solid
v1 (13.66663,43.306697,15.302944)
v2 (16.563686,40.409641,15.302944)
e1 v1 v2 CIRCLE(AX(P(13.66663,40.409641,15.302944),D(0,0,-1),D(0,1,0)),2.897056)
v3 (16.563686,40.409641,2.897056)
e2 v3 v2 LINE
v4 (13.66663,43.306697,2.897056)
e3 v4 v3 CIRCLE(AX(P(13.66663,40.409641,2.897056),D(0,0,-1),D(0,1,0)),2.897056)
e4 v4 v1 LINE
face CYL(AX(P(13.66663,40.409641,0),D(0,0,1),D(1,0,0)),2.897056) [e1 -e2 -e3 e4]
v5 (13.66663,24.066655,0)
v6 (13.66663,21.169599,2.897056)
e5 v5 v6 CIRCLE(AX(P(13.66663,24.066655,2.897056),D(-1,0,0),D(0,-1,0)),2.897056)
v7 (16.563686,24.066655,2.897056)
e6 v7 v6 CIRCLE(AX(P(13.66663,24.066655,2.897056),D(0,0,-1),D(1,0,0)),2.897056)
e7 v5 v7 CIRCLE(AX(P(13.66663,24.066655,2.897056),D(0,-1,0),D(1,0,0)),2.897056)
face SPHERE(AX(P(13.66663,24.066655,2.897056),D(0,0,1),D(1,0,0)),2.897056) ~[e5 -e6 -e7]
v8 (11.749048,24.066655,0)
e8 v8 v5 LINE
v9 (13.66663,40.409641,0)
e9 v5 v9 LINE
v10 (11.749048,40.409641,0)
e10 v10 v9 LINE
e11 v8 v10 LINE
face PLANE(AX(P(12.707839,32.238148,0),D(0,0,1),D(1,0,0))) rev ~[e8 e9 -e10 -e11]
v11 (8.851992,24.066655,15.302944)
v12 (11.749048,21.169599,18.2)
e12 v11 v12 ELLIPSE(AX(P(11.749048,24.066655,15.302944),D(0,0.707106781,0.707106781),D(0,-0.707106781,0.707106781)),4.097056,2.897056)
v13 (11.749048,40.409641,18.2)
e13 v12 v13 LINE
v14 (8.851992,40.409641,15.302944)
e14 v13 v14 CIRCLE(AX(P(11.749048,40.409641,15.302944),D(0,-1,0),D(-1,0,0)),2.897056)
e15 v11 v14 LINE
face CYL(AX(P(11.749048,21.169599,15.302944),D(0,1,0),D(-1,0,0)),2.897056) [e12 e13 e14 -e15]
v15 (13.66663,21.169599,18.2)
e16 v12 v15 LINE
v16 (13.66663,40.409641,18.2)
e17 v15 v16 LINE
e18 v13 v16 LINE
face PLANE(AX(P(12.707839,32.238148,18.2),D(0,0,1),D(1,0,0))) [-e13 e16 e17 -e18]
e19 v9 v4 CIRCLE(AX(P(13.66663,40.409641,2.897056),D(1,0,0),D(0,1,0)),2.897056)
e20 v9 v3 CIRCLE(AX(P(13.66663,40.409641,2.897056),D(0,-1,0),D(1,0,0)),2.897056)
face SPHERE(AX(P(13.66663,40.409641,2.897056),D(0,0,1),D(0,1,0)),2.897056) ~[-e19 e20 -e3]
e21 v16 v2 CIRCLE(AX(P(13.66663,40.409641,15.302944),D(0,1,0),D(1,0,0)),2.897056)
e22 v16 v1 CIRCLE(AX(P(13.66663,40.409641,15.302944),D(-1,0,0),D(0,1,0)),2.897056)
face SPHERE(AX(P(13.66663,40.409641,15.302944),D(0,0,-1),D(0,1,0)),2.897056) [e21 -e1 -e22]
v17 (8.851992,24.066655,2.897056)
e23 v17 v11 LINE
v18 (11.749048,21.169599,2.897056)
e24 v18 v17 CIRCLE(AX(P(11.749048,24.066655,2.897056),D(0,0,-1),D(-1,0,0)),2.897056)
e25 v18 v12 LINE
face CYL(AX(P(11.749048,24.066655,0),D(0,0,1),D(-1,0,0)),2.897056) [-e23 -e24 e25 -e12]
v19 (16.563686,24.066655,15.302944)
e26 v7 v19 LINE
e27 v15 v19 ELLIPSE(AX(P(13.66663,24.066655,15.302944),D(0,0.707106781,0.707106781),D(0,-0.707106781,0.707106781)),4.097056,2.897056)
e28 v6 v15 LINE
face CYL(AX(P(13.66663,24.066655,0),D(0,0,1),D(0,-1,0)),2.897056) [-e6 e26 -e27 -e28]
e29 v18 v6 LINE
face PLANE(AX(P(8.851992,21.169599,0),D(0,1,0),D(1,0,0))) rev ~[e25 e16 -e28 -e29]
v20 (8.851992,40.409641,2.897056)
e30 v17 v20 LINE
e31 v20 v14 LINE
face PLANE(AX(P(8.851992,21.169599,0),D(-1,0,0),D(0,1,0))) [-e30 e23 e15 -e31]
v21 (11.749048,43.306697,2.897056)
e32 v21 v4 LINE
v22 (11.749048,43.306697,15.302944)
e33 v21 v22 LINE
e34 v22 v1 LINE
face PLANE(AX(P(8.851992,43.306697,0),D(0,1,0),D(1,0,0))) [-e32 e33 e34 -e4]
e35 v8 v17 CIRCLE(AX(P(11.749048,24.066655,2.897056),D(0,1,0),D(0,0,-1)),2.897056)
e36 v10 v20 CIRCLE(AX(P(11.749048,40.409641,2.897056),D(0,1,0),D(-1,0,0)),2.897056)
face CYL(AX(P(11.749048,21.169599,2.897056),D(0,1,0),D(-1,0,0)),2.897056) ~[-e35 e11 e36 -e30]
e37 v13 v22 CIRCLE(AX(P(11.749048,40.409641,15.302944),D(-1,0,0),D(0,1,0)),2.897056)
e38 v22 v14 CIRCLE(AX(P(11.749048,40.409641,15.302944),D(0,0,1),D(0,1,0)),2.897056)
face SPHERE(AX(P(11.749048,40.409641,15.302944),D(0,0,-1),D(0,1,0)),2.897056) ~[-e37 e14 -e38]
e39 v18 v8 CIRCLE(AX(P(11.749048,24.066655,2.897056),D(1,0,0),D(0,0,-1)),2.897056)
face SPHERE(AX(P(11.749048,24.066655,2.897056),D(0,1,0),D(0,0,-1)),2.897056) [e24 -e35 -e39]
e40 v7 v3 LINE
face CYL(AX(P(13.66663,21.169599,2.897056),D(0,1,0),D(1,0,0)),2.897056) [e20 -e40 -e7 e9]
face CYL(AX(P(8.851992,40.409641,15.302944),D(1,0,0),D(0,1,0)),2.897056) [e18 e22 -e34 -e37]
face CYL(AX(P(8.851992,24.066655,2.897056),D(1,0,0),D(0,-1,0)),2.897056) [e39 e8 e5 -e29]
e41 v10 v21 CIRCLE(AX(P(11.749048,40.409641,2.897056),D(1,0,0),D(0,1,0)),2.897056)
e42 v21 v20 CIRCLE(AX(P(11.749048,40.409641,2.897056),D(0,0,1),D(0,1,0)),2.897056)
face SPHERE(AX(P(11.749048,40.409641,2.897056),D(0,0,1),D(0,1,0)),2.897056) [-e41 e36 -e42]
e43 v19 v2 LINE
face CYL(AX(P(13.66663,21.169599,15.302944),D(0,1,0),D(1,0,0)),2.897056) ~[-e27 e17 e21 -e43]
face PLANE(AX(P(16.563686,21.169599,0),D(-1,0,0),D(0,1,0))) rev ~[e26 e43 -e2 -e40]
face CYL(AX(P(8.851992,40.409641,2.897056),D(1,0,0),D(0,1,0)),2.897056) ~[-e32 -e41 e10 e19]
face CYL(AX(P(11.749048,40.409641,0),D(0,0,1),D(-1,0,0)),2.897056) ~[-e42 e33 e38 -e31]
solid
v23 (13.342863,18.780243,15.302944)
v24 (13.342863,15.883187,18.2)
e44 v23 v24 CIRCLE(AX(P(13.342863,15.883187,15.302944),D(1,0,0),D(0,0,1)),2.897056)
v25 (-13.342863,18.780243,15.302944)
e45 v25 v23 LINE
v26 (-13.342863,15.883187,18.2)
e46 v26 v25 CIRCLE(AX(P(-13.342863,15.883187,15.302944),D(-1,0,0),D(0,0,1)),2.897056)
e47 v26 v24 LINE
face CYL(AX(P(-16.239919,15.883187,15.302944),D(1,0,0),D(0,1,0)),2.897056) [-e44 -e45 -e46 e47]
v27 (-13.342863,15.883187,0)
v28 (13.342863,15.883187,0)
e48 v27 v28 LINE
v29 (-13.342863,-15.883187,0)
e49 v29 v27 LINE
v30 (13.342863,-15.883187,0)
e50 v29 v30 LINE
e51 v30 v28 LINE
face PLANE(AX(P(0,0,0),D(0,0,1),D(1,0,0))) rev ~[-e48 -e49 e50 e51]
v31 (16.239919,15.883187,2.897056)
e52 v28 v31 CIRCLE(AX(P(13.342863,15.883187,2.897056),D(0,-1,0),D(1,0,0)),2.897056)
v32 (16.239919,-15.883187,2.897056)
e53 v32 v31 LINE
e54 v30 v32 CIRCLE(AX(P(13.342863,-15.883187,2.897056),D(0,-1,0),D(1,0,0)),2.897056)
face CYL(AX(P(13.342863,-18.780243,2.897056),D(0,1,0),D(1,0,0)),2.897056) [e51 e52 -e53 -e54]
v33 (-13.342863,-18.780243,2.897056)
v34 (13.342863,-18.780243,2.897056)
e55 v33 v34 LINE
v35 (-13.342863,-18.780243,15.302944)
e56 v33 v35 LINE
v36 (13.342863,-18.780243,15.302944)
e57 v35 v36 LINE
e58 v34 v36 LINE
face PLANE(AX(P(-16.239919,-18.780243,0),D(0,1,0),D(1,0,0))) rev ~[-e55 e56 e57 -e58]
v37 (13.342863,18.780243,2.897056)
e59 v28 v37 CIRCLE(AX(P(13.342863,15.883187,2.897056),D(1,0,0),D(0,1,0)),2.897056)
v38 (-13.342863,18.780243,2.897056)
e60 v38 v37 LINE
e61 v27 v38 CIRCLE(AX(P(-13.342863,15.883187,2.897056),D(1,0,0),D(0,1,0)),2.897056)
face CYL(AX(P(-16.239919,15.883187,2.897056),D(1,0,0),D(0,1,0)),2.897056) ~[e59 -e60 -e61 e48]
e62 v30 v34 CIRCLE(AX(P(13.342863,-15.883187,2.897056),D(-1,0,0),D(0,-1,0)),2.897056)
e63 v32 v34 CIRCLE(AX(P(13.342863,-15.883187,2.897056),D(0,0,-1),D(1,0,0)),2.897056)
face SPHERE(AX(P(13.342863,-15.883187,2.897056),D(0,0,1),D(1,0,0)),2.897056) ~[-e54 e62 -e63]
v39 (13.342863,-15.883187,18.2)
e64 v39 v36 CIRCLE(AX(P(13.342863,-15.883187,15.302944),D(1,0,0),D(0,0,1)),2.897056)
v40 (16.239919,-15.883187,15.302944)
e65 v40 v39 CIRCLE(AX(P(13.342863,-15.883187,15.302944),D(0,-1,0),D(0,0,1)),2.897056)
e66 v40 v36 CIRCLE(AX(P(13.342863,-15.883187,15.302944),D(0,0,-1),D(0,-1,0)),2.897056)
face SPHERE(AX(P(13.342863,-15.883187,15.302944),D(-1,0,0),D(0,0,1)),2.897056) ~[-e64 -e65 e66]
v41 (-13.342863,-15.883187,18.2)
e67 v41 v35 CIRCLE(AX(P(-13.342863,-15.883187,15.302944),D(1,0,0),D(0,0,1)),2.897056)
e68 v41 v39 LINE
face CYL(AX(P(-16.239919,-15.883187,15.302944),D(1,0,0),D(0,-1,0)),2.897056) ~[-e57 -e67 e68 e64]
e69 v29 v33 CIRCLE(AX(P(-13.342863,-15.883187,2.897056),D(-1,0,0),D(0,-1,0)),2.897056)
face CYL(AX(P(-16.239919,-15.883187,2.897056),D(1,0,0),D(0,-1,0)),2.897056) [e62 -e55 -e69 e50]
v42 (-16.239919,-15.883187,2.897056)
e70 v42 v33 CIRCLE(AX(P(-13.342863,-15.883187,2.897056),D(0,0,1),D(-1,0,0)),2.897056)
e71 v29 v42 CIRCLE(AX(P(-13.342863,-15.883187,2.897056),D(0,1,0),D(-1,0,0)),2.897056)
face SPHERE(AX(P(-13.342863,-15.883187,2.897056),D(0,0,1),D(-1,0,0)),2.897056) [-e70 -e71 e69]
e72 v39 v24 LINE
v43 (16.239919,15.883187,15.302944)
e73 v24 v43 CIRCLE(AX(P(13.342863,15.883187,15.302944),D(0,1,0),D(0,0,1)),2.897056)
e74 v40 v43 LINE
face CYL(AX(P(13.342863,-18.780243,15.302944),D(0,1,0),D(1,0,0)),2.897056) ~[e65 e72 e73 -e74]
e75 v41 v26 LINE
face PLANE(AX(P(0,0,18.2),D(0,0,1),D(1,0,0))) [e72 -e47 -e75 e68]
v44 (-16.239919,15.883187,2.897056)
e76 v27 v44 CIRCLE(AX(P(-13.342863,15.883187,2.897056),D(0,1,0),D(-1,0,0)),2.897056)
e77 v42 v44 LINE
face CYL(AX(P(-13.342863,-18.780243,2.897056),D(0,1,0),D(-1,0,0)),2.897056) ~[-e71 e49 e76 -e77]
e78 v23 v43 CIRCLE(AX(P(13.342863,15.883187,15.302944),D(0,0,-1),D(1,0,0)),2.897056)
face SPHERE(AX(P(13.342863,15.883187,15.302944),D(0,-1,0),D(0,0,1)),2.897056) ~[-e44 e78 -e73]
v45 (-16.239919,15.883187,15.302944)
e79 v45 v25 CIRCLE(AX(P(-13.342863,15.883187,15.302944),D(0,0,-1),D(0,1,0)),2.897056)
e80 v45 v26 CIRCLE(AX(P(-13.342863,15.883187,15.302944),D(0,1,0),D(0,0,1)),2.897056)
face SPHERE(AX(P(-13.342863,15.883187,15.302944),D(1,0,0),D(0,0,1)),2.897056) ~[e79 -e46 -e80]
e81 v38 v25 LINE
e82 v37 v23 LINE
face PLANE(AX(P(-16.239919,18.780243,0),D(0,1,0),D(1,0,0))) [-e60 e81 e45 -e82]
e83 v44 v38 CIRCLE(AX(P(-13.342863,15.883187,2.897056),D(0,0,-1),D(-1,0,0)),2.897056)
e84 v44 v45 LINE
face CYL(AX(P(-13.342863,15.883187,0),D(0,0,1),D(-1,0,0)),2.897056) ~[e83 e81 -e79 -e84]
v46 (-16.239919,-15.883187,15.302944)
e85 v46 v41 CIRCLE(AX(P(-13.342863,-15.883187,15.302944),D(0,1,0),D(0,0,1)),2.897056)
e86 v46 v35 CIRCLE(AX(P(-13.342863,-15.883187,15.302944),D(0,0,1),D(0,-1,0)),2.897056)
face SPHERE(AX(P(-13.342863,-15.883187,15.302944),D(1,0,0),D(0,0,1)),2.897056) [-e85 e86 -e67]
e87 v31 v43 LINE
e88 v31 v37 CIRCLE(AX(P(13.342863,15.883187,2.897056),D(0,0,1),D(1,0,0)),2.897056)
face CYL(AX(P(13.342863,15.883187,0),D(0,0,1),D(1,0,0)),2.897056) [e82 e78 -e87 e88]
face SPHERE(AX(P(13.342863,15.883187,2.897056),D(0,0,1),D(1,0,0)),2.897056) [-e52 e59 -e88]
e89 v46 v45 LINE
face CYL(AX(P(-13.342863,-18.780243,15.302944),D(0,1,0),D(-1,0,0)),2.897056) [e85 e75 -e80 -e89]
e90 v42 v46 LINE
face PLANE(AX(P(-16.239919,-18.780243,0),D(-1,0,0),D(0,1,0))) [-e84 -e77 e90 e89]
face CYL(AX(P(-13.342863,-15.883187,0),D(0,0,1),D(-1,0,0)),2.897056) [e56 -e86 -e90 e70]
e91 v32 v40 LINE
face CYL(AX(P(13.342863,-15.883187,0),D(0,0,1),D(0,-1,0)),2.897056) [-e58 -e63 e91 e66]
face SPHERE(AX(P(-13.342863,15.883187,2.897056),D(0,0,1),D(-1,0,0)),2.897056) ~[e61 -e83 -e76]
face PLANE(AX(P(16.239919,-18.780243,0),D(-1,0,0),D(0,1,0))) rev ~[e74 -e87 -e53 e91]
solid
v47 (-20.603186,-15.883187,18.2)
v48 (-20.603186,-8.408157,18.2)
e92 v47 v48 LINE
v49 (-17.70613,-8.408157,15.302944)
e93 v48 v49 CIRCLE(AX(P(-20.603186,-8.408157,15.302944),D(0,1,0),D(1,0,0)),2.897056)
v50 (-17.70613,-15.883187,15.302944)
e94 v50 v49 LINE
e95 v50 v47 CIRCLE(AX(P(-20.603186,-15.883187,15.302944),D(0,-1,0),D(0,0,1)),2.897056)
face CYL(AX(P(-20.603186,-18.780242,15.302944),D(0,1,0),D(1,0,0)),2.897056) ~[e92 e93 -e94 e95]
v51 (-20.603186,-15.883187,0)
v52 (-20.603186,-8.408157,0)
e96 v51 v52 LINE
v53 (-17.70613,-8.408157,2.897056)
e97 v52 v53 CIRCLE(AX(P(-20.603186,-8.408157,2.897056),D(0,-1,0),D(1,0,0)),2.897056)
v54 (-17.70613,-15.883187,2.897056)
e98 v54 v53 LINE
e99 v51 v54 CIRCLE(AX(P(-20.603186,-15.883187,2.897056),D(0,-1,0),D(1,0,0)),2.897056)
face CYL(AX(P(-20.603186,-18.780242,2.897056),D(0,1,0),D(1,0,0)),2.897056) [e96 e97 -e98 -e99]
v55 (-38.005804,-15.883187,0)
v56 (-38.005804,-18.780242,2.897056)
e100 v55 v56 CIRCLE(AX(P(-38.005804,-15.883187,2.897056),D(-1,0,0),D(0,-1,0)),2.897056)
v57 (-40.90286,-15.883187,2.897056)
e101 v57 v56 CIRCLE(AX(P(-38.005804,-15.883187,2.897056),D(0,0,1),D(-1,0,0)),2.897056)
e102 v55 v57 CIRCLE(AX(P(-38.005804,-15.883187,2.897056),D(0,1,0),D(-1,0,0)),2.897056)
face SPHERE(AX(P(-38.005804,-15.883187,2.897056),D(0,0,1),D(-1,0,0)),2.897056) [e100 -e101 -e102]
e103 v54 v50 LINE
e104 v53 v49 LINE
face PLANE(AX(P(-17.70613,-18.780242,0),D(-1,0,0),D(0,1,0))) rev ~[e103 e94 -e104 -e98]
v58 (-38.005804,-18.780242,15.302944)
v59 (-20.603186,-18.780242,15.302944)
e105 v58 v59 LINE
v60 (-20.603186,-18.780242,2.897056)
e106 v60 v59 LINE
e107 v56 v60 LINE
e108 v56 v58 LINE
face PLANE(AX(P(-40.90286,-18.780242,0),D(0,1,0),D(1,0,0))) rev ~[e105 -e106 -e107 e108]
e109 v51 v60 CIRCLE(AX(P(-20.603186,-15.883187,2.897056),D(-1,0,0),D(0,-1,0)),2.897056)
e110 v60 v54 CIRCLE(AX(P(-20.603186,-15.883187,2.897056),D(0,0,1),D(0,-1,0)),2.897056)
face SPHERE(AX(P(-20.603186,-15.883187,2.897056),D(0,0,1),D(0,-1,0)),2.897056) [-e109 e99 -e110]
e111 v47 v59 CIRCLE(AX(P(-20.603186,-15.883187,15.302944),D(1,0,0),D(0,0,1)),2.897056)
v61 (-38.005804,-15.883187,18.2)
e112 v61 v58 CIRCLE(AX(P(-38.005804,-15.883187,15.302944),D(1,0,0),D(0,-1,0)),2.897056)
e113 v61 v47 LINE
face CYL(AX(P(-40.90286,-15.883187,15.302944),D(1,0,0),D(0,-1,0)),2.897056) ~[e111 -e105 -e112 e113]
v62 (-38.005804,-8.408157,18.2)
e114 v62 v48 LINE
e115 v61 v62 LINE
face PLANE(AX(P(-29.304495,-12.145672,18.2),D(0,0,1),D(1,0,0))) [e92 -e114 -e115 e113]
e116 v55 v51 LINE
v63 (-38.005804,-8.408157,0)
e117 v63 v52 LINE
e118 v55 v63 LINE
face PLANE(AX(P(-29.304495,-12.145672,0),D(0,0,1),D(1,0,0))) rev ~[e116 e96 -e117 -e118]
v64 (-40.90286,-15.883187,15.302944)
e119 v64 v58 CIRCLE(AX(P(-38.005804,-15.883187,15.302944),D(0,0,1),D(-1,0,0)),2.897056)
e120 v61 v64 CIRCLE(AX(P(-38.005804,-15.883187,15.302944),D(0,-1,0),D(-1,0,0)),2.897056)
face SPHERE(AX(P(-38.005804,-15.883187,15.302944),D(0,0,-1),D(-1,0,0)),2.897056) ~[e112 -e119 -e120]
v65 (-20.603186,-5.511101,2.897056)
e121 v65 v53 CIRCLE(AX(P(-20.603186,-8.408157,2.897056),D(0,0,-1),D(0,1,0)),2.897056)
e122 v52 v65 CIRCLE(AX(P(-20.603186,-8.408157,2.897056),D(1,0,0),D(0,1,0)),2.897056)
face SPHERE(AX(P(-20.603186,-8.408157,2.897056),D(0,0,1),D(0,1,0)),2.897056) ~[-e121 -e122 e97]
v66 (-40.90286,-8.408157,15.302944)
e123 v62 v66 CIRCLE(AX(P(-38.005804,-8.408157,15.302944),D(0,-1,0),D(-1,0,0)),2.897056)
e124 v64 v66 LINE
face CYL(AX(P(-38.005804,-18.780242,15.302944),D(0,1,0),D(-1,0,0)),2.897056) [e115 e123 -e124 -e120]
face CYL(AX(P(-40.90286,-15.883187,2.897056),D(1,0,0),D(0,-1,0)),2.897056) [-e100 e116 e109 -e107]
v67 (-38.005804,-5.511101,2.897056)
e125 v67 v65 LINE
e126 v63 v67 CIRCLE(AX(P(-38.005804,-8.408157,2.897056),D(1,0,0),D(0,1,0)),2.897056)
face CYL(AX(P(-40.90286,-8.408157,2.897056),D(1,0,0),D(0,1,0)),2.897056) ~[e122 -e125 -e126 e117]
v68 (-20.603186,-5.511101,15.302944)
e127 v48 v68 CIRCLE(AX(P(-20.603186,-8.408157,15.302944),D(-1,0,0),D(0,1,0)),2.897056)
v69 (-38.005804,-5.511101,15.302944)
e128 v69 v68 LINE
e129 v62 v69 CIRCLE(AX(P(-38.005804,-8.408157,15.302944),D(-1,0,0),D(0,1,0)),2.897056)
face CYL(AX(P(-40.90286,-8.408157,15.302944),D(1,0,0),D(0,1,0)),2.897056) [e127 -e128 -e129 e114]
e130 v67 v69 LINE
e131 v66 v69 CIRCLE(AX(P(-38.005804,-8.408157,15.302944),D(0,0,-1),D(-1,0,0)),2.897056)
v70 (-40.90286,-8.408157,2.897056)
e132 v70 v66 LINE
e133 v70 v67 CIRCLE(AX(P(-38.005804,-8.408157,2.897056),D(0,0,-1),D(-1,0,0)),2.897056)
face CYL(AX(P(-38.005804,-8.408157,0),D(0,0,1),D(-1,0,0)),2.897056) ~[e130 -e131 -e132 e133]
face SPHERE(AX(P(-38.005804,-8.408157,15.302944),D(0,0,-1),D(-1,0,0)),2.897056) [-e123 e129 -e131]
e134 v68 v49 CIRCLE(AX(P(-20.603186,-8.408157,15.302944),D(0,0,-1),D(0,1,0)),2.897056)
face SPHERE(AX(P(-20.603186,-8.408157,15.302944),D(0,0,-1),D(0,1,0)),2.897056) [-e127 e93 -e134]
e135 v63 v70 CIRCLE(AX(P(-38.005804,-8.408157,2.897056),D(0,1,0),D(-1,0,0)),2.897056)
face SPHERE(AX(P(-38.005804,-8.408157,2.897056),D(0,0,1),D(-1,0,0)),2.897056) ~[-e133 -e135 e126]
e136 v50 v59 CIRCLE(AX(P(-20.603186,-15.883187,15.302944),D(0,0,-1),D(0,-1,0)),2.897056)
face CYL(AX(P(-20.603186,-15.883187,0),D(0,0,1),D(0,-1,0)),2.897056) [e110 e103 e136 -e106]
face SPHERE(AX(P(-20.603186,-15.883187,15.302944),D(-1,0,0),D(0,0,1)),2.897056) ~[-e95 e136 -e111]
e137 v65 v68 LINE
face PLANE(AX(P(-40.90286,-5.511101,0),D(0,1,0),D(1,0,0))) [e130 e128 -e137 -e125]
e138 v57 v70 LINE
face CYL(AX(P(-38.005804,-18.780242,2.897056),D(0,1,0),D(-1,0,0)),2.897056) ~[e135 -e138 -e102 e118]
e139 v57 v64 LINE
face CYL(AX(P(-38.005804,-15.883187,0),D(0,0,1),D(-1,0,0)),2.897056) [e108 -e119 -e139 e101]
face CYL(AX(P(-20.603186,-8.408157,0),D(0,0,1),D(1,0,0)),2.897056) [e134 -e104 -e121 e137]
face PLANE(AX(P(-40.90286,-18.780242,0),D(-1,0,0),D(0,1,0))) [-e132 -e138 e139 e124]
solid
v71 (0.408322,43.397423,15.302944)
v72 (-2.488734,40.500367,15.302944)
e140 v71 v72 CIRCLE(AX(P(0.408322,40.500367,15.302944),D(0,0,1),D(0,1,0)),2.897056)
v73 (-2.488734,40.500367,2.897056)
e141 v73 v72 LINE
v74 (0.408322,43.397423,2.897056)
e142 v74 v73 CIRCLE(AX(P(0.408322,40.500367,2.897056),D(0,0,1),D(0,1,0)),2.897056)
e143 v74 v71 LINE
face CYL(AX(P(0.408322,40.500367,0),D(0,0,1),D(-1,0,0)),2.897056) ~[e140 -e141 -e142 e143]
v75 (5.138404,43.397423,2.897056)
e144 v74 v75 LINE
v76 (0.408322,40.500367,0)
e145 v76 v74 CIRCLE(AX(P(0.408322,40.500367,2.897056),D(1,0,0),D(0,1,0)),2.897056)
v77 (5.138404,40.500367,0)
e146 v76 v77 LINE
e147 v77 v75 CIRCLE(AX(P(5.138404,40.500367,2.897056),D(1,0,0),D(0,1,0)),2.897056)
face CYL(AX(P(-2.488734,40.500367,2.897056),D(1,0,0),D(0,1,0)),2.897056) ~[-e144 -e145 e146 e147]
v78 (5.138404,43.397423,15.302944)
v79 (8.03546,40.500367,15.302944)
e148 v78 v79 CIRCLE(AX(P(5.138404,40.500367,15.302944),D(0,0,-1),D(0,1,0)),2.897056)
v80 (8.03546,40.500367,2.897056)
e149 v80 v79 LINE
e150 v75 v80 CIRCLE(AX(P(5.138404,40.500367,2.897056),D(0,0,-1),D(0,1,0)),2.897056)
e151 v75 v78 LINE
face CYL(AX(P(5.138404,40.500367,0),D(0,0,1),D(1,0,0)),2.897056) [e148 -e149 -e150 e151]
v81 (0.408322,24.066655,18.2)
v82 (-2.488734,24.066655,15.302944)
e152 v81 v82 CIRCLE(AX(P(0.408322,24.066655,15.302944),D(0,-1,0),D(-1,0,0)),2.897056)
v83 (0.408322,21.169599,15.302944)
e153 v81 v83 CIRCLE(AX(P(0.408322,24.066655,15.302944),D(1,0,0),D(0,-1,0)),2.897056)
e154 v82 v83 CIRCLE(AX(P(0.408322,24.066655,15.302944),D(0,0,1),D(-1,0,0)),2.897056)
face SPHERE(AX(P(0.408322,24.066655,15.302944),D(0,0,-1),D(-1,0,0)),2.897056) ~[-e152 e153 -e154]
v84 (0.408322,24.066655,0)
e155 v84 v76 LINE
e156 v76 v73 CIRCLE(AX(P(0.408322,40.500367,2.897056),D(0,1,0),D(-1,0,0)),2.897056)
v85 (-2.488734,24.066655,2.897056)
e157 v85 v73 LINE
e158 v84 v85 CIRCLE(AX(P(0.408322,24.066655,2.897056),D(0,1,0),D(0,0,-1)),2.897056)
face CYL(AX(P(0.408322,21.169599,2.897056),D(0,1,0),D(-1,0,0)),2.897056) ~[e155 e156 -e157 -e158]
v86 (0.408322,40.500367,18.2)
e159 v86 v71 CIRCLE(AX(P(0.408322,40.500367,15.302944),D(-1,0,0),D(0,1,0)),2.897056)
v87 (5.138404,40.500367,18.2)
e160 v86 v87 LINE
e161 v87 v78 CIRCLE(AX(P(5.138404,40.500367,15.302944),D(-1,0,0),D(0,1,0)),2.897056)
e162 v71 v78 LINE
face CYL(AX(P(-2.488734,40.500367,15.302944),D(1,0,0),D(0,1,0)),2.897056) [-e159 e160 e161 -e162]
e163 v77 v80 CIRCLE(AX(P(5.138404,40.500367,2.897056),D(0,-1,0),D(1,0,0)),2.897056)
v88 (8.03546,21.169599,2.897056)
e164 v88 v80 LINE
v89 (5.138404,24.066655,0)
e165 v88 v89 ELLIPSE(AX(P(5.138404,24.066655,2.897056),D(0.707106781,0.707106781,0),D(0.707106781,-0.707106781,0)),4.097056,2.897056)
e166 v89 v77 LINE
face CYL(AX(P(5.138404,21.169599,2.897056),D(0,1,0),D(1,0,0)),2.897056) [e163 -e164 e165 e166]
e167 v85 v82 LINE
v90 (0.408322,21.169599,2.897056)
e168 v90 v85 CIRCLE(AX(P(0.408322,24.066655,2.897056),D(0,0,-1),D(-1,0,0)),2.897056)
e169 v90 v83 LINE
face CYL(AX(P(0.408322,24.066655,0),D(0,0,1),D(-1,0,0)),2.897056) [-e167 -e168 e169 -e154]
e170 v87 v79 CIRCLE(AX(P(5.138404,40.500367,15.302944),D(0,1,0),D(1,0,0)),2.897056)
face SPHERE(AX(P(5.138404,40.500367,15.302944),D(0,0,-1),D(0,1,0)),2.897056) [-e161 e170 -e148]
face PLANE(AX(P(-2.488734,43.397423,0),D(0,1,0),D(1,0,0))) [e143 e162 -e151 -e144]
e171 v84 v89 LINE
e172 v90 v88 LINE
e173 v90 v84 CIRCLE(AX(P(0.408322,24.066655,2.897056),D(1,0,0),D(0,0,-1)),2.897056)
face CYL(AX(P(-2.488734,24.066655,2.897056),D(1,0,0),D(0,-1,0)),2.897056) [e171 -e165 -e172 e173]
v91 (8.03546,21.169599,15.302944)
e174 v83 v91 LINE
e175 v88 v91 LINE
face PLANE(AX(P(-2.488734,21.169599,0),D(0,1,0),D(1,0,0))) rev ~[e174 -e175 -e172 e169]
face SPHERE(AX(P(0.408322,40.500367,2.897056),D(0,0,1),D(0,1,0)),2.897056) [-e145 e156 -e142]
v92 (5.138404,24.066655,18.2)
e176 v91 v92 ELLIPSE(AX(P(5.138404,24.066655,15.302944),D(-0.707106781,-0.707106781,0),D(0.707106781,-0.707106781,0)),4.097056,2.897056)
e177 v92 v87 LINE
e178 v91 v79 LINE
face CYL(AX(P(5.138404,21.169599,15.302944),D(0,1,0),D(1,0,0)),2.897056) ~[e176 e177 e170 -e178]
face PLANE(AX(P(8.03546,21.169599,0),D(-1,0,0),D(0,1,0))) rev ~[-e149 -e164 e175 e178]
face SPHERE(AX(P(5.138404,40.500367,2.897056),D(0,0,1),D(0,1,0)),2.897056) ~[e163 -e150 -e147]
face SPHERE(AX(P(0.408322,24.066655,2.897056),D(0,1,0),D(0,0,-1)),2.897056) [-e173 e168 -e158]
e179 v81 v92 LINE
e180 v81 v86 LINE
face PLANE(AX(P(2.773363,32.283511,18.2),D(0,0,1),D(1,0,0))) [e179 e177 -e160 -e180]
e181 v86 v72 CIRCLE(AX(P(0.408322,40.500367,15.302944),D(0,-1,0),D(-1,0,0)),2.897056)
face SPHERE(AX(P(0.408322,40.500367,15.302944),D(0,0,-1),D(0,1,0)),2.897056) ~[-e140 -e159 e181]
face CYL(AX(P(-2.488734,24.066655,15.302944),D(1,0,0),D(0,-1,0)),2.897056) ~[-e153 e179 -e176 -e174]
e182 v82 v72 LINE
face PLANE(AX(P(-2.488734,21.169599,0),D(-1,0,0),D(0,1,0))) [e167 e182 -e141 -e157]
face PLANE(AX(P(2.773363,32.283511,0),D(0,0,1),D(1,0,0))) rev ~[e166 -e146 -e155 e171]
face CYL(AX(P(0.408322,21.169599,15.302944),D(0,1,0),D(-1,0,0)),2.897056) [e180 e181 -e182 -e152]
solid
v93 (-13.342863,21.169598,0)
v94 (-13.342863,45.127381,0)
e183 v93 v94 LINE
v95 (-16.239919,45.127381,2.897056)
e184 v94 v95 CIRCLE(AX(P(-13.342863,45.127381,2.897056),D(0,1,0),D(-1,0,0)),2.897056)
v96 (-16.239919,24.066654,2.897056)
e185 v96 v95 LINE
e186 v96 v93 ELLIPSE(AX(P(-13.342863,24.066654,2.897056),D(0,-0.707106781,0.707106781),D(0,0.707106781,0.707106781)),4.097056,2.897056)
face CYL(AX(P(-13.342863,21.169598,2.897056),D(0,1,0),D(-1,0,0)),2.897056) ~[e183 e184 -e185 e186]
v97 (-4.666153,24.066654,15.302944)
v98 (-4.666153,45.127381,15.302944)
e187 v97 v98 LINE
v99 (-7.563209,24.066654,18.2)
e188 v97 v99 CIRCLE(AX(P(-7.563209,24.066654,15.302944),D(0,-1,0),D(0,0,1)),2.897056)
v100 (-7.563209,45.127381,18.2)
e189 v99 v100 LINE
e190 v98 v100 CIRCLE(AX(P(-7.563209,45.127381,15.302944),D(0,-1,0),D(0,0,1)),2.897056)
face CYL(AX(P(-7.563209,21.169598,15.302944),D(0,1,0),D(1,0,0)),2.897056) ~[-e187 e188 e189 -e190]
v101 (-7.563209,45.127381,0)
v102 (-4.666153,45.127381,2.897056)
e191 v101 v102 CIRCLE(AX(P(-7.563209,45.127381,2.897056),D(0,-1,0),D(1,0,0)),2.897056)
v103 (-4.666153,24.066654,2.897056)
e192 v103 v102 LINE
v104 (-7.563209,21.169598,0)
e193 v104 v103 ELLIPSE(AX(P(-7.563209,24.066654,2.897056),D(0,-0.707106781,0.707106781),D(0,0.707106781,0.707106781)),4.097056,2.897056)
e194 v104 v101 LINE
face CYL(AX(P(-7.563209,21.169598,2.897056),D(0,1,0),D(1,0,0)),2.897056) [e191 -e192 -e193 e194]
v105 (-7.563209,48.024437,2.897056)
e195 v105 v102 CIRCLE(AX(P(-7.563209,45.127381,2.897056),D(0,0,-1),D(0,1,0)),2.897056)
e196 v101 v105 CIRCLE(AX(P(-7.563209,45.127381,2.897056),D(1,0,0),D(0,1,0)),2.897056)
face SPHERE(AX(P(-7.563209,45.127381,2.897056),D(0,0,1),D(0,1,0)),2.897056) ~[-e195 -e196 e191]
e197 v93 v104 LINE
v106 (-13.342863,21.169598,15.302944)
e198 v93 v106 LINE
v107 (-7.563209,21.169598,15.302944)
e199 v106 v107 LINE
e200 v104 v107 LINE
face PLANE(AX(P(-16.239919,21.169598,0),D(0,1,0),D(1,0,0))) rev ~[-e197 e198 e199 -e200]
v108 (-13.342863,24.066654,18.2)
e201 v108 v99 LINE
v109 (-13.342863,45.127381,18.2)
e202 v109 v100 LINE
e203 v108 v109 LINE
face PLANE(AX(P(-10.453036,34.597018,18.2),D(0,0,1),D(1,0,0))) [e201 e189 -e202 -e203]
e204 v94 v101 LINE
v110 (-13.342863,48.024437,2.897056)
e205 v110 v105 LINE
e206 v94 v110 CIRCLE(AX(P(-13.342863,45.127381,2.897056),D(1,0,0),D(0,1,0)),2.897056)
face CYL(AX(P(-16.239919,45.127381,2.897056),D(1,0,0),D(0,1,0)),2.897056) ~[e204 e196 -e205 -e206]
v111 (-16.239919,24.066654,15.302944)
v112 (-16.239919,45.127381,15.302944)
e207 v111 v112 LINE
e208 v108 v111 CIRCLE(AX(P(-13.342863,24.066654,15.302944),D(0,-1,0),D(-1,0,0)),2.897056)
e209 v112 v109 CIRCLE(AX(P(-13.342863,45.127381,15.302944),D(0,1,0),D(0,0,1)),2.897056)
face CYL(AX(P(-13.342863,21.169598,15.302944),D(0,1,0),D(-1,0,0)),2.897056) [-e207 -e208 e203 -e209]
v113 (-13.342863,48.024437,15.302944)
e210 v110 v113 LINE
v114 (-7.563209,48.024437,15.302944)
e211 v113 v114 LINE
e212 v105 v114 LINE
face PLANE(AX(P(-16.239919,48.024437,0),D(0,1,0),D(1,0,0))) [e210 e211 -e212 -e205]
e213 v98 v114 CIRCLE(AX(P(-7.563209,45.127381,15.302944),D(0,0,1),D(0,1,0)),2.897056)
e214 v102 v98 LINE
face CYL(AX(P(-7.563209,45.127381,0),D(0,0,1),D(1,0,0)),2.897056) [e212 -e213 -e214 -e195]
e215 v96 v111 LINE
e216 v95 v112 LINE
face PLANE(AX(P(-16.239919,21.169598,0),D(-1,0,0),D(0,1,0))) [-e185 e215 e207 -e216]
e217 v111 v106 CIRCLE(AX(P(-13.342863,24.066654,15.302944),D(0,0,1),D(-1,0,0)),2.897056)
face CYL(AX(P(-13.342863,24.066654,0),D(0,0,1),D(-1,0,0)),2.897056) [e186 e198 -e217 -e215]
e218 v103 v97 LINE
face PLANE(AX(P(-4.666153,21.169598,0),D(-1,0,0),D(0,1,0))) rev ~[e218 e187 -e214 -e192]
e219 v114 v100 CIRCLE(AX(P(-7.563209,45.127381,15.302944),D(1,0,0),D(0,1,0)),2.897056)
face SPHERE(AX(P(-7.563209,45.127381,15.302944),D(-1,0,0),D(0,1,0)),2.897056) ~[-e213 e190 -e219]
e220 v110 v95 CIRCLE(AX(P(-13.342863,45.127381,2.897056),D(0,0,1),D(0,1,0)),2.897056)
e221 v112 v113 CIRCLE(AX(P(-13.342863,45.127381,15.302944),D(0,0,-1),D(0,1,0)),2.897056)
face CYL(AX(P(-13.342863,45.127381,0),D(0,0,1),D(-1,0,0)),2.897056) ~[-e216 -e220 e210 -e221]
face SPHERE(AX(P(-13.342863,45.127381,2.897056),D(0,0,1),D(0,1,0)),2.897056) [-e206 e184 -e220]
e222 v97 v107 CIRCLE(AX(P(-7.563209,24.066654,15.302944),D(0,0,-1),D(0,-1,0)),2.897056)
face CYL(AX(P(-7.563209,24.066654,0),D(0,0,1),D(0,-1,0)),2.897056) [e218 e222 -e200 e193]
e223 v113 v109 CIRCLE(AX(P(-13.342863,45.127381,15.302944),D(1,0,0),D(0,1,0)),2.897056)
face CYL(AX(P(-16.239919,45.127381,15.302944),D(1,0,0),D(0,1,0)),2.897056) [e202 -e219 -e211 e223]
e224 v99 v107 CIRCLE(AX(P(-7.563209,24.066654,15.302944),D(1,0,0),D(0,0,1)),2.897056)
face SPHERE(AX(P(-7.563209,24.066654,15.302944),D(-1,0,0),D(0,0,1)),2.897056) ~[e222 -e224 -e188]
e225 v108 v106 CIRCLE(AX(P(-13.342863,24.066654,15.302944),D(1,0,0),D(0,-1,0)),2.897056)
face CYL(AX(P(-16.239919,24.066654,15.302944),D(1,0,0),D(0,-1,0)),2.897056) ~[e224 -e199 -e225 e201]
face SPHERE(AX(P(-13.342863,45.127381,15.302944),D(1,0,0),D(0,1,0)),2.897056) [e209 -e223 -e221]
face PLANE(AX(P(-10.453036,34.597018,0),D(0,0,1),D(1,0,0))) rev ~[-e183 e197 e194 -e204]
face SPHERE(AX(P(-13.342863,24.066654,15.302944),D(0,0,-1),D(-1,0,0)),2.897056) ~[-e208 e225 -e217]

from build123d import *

# Parameters (mm, degrees)
F0_W     = 32.479838
F0_H     = 37.560486
F0_W_2   = 11.573766
F0_H_2   = 26.854839
F0_W_3   = 10.524194
F0_H_3   = 22.227824
F0_W_4   = 7.711694
F0_H_4   = 22.137098
F0_W_5   = 23.19673
F0_H_5   = 13.269141
F1_DEPTH = 18.2
F2_R     = 2.897056


with BuildPart() as f1:
    # F0 (on Top) → F1 (new body)
    with BuildSketch(Plane.XY):
        Rectangle(F0_W, F0_H)
        with Locations((-10.453036, 34.597018)):
            Rectangle(F0_W_2, F0_H_2)
        with Locations((2.773363, 32.283511)):
            Rectangle(F0_W_3, F0_H_3)
        with Locations((12.707839, 32.238148)):
            Rectangle(F0_W_4, F0_H_4)
        with Locations((-29.304495, -12.145672)):
            Rectangle(F0_W_5, F0_H_5)
    extrude(amount=F1_DEPTH)

    # F2
    f2_edges = [f1.edges().sort_by_distance(p)[0] for p in [
        (-10.453036, 48.024438, 18.2),
        (-16.239919, 48.024438, 9.1),
        (-4.666153, 48.024438, 9.1),
        (-10.453036, 48.024438, 0),
        (16.563686, 43.306697, 9.1),
        (8.851992, 43.306697, 9.1),
        (12.707839, 43.306697, 0),
        (12.707839, 43.306697, 18.2),
        (-40.90286, -5.511102, 9.1),
        (-40.90286, -18.780243, 9.1),
        (-40.90286, -12.145672, 0),
        (-40.90286, -12.145672, 18.2),
        (-17.70613, -5.511102, 9.1),
        (-29.304495, -5.511102, 0),
        (-29.304495, -5.511102, 18.2),
        (-29.304495, -18.780243, 18.2),
        (-17.70613, -12.145672, 18.2),
        (-17.70613, -18.780243, 9.1),
        (-29.304495, -18.780243, 0),
        (-17.70613, -12.145672, 0),
        (-16.239919, 21.169599, 9.1),
        (-16.239919, 34.597019, 0),
        (-16.239919, 34.597019, 18.2),
        (-10.453036, 21.169599, 18.2),
        (-4.666153, 34.597019, 18.2),
        (-4.666153, 21.169599, 9.1),
        (-4.666153, 34.597019, 0),
        (16.563686, 21.169599, 9.1),
        (16.563686, 32.238148, 0),
        (16.563686, 32.238148, 18.2),
        (8.851992, 32.238148, 0),
        (12.707839, 21.169599, 0),
        (8.03546, 43.397423, 9.1),
        (-2.488734, 43.397423, 9.1),
        (2.773363, 43.397423, 0),
        (2.773363, 43.397423, 18.2),
        (-2.488734, 32.283511, 0),
        (2.773363, 21.169599, 0),
        (8.03546, 32.283511, 0),
        (-2.488734, 21.169599, 9.1),
        (-2.488734, 32.283511, 18.2),
        (2.773363, 21.169599, 18.2),
        (8.03546, 32.283511, 18.2),
        (8.851992, 21.169599, 9.1),
        (8.851992, 32.238148, 18.2),
        (0, -18.780243, 18.2),
        (16.239919, 0, 18.2),
        (0, 18.780243, 18.2),
        (-16.239919, 0, 18.2),
        (-16.239919, 18.780243, 9.1),
        (-16.239919, -18.780243, 9.1),
        (-16.239919, 0, 0),
        (16.239919, -18.780243, 9.1),
        (16.239919, 18.780243, 9.1),
        (16.239919, 0, 0),
        (0, -18.780243, 0),
        (0, 18.780243, 0),
    ]]
    fillet(f2_edges, radius=F2_R)


solid = f1.part
